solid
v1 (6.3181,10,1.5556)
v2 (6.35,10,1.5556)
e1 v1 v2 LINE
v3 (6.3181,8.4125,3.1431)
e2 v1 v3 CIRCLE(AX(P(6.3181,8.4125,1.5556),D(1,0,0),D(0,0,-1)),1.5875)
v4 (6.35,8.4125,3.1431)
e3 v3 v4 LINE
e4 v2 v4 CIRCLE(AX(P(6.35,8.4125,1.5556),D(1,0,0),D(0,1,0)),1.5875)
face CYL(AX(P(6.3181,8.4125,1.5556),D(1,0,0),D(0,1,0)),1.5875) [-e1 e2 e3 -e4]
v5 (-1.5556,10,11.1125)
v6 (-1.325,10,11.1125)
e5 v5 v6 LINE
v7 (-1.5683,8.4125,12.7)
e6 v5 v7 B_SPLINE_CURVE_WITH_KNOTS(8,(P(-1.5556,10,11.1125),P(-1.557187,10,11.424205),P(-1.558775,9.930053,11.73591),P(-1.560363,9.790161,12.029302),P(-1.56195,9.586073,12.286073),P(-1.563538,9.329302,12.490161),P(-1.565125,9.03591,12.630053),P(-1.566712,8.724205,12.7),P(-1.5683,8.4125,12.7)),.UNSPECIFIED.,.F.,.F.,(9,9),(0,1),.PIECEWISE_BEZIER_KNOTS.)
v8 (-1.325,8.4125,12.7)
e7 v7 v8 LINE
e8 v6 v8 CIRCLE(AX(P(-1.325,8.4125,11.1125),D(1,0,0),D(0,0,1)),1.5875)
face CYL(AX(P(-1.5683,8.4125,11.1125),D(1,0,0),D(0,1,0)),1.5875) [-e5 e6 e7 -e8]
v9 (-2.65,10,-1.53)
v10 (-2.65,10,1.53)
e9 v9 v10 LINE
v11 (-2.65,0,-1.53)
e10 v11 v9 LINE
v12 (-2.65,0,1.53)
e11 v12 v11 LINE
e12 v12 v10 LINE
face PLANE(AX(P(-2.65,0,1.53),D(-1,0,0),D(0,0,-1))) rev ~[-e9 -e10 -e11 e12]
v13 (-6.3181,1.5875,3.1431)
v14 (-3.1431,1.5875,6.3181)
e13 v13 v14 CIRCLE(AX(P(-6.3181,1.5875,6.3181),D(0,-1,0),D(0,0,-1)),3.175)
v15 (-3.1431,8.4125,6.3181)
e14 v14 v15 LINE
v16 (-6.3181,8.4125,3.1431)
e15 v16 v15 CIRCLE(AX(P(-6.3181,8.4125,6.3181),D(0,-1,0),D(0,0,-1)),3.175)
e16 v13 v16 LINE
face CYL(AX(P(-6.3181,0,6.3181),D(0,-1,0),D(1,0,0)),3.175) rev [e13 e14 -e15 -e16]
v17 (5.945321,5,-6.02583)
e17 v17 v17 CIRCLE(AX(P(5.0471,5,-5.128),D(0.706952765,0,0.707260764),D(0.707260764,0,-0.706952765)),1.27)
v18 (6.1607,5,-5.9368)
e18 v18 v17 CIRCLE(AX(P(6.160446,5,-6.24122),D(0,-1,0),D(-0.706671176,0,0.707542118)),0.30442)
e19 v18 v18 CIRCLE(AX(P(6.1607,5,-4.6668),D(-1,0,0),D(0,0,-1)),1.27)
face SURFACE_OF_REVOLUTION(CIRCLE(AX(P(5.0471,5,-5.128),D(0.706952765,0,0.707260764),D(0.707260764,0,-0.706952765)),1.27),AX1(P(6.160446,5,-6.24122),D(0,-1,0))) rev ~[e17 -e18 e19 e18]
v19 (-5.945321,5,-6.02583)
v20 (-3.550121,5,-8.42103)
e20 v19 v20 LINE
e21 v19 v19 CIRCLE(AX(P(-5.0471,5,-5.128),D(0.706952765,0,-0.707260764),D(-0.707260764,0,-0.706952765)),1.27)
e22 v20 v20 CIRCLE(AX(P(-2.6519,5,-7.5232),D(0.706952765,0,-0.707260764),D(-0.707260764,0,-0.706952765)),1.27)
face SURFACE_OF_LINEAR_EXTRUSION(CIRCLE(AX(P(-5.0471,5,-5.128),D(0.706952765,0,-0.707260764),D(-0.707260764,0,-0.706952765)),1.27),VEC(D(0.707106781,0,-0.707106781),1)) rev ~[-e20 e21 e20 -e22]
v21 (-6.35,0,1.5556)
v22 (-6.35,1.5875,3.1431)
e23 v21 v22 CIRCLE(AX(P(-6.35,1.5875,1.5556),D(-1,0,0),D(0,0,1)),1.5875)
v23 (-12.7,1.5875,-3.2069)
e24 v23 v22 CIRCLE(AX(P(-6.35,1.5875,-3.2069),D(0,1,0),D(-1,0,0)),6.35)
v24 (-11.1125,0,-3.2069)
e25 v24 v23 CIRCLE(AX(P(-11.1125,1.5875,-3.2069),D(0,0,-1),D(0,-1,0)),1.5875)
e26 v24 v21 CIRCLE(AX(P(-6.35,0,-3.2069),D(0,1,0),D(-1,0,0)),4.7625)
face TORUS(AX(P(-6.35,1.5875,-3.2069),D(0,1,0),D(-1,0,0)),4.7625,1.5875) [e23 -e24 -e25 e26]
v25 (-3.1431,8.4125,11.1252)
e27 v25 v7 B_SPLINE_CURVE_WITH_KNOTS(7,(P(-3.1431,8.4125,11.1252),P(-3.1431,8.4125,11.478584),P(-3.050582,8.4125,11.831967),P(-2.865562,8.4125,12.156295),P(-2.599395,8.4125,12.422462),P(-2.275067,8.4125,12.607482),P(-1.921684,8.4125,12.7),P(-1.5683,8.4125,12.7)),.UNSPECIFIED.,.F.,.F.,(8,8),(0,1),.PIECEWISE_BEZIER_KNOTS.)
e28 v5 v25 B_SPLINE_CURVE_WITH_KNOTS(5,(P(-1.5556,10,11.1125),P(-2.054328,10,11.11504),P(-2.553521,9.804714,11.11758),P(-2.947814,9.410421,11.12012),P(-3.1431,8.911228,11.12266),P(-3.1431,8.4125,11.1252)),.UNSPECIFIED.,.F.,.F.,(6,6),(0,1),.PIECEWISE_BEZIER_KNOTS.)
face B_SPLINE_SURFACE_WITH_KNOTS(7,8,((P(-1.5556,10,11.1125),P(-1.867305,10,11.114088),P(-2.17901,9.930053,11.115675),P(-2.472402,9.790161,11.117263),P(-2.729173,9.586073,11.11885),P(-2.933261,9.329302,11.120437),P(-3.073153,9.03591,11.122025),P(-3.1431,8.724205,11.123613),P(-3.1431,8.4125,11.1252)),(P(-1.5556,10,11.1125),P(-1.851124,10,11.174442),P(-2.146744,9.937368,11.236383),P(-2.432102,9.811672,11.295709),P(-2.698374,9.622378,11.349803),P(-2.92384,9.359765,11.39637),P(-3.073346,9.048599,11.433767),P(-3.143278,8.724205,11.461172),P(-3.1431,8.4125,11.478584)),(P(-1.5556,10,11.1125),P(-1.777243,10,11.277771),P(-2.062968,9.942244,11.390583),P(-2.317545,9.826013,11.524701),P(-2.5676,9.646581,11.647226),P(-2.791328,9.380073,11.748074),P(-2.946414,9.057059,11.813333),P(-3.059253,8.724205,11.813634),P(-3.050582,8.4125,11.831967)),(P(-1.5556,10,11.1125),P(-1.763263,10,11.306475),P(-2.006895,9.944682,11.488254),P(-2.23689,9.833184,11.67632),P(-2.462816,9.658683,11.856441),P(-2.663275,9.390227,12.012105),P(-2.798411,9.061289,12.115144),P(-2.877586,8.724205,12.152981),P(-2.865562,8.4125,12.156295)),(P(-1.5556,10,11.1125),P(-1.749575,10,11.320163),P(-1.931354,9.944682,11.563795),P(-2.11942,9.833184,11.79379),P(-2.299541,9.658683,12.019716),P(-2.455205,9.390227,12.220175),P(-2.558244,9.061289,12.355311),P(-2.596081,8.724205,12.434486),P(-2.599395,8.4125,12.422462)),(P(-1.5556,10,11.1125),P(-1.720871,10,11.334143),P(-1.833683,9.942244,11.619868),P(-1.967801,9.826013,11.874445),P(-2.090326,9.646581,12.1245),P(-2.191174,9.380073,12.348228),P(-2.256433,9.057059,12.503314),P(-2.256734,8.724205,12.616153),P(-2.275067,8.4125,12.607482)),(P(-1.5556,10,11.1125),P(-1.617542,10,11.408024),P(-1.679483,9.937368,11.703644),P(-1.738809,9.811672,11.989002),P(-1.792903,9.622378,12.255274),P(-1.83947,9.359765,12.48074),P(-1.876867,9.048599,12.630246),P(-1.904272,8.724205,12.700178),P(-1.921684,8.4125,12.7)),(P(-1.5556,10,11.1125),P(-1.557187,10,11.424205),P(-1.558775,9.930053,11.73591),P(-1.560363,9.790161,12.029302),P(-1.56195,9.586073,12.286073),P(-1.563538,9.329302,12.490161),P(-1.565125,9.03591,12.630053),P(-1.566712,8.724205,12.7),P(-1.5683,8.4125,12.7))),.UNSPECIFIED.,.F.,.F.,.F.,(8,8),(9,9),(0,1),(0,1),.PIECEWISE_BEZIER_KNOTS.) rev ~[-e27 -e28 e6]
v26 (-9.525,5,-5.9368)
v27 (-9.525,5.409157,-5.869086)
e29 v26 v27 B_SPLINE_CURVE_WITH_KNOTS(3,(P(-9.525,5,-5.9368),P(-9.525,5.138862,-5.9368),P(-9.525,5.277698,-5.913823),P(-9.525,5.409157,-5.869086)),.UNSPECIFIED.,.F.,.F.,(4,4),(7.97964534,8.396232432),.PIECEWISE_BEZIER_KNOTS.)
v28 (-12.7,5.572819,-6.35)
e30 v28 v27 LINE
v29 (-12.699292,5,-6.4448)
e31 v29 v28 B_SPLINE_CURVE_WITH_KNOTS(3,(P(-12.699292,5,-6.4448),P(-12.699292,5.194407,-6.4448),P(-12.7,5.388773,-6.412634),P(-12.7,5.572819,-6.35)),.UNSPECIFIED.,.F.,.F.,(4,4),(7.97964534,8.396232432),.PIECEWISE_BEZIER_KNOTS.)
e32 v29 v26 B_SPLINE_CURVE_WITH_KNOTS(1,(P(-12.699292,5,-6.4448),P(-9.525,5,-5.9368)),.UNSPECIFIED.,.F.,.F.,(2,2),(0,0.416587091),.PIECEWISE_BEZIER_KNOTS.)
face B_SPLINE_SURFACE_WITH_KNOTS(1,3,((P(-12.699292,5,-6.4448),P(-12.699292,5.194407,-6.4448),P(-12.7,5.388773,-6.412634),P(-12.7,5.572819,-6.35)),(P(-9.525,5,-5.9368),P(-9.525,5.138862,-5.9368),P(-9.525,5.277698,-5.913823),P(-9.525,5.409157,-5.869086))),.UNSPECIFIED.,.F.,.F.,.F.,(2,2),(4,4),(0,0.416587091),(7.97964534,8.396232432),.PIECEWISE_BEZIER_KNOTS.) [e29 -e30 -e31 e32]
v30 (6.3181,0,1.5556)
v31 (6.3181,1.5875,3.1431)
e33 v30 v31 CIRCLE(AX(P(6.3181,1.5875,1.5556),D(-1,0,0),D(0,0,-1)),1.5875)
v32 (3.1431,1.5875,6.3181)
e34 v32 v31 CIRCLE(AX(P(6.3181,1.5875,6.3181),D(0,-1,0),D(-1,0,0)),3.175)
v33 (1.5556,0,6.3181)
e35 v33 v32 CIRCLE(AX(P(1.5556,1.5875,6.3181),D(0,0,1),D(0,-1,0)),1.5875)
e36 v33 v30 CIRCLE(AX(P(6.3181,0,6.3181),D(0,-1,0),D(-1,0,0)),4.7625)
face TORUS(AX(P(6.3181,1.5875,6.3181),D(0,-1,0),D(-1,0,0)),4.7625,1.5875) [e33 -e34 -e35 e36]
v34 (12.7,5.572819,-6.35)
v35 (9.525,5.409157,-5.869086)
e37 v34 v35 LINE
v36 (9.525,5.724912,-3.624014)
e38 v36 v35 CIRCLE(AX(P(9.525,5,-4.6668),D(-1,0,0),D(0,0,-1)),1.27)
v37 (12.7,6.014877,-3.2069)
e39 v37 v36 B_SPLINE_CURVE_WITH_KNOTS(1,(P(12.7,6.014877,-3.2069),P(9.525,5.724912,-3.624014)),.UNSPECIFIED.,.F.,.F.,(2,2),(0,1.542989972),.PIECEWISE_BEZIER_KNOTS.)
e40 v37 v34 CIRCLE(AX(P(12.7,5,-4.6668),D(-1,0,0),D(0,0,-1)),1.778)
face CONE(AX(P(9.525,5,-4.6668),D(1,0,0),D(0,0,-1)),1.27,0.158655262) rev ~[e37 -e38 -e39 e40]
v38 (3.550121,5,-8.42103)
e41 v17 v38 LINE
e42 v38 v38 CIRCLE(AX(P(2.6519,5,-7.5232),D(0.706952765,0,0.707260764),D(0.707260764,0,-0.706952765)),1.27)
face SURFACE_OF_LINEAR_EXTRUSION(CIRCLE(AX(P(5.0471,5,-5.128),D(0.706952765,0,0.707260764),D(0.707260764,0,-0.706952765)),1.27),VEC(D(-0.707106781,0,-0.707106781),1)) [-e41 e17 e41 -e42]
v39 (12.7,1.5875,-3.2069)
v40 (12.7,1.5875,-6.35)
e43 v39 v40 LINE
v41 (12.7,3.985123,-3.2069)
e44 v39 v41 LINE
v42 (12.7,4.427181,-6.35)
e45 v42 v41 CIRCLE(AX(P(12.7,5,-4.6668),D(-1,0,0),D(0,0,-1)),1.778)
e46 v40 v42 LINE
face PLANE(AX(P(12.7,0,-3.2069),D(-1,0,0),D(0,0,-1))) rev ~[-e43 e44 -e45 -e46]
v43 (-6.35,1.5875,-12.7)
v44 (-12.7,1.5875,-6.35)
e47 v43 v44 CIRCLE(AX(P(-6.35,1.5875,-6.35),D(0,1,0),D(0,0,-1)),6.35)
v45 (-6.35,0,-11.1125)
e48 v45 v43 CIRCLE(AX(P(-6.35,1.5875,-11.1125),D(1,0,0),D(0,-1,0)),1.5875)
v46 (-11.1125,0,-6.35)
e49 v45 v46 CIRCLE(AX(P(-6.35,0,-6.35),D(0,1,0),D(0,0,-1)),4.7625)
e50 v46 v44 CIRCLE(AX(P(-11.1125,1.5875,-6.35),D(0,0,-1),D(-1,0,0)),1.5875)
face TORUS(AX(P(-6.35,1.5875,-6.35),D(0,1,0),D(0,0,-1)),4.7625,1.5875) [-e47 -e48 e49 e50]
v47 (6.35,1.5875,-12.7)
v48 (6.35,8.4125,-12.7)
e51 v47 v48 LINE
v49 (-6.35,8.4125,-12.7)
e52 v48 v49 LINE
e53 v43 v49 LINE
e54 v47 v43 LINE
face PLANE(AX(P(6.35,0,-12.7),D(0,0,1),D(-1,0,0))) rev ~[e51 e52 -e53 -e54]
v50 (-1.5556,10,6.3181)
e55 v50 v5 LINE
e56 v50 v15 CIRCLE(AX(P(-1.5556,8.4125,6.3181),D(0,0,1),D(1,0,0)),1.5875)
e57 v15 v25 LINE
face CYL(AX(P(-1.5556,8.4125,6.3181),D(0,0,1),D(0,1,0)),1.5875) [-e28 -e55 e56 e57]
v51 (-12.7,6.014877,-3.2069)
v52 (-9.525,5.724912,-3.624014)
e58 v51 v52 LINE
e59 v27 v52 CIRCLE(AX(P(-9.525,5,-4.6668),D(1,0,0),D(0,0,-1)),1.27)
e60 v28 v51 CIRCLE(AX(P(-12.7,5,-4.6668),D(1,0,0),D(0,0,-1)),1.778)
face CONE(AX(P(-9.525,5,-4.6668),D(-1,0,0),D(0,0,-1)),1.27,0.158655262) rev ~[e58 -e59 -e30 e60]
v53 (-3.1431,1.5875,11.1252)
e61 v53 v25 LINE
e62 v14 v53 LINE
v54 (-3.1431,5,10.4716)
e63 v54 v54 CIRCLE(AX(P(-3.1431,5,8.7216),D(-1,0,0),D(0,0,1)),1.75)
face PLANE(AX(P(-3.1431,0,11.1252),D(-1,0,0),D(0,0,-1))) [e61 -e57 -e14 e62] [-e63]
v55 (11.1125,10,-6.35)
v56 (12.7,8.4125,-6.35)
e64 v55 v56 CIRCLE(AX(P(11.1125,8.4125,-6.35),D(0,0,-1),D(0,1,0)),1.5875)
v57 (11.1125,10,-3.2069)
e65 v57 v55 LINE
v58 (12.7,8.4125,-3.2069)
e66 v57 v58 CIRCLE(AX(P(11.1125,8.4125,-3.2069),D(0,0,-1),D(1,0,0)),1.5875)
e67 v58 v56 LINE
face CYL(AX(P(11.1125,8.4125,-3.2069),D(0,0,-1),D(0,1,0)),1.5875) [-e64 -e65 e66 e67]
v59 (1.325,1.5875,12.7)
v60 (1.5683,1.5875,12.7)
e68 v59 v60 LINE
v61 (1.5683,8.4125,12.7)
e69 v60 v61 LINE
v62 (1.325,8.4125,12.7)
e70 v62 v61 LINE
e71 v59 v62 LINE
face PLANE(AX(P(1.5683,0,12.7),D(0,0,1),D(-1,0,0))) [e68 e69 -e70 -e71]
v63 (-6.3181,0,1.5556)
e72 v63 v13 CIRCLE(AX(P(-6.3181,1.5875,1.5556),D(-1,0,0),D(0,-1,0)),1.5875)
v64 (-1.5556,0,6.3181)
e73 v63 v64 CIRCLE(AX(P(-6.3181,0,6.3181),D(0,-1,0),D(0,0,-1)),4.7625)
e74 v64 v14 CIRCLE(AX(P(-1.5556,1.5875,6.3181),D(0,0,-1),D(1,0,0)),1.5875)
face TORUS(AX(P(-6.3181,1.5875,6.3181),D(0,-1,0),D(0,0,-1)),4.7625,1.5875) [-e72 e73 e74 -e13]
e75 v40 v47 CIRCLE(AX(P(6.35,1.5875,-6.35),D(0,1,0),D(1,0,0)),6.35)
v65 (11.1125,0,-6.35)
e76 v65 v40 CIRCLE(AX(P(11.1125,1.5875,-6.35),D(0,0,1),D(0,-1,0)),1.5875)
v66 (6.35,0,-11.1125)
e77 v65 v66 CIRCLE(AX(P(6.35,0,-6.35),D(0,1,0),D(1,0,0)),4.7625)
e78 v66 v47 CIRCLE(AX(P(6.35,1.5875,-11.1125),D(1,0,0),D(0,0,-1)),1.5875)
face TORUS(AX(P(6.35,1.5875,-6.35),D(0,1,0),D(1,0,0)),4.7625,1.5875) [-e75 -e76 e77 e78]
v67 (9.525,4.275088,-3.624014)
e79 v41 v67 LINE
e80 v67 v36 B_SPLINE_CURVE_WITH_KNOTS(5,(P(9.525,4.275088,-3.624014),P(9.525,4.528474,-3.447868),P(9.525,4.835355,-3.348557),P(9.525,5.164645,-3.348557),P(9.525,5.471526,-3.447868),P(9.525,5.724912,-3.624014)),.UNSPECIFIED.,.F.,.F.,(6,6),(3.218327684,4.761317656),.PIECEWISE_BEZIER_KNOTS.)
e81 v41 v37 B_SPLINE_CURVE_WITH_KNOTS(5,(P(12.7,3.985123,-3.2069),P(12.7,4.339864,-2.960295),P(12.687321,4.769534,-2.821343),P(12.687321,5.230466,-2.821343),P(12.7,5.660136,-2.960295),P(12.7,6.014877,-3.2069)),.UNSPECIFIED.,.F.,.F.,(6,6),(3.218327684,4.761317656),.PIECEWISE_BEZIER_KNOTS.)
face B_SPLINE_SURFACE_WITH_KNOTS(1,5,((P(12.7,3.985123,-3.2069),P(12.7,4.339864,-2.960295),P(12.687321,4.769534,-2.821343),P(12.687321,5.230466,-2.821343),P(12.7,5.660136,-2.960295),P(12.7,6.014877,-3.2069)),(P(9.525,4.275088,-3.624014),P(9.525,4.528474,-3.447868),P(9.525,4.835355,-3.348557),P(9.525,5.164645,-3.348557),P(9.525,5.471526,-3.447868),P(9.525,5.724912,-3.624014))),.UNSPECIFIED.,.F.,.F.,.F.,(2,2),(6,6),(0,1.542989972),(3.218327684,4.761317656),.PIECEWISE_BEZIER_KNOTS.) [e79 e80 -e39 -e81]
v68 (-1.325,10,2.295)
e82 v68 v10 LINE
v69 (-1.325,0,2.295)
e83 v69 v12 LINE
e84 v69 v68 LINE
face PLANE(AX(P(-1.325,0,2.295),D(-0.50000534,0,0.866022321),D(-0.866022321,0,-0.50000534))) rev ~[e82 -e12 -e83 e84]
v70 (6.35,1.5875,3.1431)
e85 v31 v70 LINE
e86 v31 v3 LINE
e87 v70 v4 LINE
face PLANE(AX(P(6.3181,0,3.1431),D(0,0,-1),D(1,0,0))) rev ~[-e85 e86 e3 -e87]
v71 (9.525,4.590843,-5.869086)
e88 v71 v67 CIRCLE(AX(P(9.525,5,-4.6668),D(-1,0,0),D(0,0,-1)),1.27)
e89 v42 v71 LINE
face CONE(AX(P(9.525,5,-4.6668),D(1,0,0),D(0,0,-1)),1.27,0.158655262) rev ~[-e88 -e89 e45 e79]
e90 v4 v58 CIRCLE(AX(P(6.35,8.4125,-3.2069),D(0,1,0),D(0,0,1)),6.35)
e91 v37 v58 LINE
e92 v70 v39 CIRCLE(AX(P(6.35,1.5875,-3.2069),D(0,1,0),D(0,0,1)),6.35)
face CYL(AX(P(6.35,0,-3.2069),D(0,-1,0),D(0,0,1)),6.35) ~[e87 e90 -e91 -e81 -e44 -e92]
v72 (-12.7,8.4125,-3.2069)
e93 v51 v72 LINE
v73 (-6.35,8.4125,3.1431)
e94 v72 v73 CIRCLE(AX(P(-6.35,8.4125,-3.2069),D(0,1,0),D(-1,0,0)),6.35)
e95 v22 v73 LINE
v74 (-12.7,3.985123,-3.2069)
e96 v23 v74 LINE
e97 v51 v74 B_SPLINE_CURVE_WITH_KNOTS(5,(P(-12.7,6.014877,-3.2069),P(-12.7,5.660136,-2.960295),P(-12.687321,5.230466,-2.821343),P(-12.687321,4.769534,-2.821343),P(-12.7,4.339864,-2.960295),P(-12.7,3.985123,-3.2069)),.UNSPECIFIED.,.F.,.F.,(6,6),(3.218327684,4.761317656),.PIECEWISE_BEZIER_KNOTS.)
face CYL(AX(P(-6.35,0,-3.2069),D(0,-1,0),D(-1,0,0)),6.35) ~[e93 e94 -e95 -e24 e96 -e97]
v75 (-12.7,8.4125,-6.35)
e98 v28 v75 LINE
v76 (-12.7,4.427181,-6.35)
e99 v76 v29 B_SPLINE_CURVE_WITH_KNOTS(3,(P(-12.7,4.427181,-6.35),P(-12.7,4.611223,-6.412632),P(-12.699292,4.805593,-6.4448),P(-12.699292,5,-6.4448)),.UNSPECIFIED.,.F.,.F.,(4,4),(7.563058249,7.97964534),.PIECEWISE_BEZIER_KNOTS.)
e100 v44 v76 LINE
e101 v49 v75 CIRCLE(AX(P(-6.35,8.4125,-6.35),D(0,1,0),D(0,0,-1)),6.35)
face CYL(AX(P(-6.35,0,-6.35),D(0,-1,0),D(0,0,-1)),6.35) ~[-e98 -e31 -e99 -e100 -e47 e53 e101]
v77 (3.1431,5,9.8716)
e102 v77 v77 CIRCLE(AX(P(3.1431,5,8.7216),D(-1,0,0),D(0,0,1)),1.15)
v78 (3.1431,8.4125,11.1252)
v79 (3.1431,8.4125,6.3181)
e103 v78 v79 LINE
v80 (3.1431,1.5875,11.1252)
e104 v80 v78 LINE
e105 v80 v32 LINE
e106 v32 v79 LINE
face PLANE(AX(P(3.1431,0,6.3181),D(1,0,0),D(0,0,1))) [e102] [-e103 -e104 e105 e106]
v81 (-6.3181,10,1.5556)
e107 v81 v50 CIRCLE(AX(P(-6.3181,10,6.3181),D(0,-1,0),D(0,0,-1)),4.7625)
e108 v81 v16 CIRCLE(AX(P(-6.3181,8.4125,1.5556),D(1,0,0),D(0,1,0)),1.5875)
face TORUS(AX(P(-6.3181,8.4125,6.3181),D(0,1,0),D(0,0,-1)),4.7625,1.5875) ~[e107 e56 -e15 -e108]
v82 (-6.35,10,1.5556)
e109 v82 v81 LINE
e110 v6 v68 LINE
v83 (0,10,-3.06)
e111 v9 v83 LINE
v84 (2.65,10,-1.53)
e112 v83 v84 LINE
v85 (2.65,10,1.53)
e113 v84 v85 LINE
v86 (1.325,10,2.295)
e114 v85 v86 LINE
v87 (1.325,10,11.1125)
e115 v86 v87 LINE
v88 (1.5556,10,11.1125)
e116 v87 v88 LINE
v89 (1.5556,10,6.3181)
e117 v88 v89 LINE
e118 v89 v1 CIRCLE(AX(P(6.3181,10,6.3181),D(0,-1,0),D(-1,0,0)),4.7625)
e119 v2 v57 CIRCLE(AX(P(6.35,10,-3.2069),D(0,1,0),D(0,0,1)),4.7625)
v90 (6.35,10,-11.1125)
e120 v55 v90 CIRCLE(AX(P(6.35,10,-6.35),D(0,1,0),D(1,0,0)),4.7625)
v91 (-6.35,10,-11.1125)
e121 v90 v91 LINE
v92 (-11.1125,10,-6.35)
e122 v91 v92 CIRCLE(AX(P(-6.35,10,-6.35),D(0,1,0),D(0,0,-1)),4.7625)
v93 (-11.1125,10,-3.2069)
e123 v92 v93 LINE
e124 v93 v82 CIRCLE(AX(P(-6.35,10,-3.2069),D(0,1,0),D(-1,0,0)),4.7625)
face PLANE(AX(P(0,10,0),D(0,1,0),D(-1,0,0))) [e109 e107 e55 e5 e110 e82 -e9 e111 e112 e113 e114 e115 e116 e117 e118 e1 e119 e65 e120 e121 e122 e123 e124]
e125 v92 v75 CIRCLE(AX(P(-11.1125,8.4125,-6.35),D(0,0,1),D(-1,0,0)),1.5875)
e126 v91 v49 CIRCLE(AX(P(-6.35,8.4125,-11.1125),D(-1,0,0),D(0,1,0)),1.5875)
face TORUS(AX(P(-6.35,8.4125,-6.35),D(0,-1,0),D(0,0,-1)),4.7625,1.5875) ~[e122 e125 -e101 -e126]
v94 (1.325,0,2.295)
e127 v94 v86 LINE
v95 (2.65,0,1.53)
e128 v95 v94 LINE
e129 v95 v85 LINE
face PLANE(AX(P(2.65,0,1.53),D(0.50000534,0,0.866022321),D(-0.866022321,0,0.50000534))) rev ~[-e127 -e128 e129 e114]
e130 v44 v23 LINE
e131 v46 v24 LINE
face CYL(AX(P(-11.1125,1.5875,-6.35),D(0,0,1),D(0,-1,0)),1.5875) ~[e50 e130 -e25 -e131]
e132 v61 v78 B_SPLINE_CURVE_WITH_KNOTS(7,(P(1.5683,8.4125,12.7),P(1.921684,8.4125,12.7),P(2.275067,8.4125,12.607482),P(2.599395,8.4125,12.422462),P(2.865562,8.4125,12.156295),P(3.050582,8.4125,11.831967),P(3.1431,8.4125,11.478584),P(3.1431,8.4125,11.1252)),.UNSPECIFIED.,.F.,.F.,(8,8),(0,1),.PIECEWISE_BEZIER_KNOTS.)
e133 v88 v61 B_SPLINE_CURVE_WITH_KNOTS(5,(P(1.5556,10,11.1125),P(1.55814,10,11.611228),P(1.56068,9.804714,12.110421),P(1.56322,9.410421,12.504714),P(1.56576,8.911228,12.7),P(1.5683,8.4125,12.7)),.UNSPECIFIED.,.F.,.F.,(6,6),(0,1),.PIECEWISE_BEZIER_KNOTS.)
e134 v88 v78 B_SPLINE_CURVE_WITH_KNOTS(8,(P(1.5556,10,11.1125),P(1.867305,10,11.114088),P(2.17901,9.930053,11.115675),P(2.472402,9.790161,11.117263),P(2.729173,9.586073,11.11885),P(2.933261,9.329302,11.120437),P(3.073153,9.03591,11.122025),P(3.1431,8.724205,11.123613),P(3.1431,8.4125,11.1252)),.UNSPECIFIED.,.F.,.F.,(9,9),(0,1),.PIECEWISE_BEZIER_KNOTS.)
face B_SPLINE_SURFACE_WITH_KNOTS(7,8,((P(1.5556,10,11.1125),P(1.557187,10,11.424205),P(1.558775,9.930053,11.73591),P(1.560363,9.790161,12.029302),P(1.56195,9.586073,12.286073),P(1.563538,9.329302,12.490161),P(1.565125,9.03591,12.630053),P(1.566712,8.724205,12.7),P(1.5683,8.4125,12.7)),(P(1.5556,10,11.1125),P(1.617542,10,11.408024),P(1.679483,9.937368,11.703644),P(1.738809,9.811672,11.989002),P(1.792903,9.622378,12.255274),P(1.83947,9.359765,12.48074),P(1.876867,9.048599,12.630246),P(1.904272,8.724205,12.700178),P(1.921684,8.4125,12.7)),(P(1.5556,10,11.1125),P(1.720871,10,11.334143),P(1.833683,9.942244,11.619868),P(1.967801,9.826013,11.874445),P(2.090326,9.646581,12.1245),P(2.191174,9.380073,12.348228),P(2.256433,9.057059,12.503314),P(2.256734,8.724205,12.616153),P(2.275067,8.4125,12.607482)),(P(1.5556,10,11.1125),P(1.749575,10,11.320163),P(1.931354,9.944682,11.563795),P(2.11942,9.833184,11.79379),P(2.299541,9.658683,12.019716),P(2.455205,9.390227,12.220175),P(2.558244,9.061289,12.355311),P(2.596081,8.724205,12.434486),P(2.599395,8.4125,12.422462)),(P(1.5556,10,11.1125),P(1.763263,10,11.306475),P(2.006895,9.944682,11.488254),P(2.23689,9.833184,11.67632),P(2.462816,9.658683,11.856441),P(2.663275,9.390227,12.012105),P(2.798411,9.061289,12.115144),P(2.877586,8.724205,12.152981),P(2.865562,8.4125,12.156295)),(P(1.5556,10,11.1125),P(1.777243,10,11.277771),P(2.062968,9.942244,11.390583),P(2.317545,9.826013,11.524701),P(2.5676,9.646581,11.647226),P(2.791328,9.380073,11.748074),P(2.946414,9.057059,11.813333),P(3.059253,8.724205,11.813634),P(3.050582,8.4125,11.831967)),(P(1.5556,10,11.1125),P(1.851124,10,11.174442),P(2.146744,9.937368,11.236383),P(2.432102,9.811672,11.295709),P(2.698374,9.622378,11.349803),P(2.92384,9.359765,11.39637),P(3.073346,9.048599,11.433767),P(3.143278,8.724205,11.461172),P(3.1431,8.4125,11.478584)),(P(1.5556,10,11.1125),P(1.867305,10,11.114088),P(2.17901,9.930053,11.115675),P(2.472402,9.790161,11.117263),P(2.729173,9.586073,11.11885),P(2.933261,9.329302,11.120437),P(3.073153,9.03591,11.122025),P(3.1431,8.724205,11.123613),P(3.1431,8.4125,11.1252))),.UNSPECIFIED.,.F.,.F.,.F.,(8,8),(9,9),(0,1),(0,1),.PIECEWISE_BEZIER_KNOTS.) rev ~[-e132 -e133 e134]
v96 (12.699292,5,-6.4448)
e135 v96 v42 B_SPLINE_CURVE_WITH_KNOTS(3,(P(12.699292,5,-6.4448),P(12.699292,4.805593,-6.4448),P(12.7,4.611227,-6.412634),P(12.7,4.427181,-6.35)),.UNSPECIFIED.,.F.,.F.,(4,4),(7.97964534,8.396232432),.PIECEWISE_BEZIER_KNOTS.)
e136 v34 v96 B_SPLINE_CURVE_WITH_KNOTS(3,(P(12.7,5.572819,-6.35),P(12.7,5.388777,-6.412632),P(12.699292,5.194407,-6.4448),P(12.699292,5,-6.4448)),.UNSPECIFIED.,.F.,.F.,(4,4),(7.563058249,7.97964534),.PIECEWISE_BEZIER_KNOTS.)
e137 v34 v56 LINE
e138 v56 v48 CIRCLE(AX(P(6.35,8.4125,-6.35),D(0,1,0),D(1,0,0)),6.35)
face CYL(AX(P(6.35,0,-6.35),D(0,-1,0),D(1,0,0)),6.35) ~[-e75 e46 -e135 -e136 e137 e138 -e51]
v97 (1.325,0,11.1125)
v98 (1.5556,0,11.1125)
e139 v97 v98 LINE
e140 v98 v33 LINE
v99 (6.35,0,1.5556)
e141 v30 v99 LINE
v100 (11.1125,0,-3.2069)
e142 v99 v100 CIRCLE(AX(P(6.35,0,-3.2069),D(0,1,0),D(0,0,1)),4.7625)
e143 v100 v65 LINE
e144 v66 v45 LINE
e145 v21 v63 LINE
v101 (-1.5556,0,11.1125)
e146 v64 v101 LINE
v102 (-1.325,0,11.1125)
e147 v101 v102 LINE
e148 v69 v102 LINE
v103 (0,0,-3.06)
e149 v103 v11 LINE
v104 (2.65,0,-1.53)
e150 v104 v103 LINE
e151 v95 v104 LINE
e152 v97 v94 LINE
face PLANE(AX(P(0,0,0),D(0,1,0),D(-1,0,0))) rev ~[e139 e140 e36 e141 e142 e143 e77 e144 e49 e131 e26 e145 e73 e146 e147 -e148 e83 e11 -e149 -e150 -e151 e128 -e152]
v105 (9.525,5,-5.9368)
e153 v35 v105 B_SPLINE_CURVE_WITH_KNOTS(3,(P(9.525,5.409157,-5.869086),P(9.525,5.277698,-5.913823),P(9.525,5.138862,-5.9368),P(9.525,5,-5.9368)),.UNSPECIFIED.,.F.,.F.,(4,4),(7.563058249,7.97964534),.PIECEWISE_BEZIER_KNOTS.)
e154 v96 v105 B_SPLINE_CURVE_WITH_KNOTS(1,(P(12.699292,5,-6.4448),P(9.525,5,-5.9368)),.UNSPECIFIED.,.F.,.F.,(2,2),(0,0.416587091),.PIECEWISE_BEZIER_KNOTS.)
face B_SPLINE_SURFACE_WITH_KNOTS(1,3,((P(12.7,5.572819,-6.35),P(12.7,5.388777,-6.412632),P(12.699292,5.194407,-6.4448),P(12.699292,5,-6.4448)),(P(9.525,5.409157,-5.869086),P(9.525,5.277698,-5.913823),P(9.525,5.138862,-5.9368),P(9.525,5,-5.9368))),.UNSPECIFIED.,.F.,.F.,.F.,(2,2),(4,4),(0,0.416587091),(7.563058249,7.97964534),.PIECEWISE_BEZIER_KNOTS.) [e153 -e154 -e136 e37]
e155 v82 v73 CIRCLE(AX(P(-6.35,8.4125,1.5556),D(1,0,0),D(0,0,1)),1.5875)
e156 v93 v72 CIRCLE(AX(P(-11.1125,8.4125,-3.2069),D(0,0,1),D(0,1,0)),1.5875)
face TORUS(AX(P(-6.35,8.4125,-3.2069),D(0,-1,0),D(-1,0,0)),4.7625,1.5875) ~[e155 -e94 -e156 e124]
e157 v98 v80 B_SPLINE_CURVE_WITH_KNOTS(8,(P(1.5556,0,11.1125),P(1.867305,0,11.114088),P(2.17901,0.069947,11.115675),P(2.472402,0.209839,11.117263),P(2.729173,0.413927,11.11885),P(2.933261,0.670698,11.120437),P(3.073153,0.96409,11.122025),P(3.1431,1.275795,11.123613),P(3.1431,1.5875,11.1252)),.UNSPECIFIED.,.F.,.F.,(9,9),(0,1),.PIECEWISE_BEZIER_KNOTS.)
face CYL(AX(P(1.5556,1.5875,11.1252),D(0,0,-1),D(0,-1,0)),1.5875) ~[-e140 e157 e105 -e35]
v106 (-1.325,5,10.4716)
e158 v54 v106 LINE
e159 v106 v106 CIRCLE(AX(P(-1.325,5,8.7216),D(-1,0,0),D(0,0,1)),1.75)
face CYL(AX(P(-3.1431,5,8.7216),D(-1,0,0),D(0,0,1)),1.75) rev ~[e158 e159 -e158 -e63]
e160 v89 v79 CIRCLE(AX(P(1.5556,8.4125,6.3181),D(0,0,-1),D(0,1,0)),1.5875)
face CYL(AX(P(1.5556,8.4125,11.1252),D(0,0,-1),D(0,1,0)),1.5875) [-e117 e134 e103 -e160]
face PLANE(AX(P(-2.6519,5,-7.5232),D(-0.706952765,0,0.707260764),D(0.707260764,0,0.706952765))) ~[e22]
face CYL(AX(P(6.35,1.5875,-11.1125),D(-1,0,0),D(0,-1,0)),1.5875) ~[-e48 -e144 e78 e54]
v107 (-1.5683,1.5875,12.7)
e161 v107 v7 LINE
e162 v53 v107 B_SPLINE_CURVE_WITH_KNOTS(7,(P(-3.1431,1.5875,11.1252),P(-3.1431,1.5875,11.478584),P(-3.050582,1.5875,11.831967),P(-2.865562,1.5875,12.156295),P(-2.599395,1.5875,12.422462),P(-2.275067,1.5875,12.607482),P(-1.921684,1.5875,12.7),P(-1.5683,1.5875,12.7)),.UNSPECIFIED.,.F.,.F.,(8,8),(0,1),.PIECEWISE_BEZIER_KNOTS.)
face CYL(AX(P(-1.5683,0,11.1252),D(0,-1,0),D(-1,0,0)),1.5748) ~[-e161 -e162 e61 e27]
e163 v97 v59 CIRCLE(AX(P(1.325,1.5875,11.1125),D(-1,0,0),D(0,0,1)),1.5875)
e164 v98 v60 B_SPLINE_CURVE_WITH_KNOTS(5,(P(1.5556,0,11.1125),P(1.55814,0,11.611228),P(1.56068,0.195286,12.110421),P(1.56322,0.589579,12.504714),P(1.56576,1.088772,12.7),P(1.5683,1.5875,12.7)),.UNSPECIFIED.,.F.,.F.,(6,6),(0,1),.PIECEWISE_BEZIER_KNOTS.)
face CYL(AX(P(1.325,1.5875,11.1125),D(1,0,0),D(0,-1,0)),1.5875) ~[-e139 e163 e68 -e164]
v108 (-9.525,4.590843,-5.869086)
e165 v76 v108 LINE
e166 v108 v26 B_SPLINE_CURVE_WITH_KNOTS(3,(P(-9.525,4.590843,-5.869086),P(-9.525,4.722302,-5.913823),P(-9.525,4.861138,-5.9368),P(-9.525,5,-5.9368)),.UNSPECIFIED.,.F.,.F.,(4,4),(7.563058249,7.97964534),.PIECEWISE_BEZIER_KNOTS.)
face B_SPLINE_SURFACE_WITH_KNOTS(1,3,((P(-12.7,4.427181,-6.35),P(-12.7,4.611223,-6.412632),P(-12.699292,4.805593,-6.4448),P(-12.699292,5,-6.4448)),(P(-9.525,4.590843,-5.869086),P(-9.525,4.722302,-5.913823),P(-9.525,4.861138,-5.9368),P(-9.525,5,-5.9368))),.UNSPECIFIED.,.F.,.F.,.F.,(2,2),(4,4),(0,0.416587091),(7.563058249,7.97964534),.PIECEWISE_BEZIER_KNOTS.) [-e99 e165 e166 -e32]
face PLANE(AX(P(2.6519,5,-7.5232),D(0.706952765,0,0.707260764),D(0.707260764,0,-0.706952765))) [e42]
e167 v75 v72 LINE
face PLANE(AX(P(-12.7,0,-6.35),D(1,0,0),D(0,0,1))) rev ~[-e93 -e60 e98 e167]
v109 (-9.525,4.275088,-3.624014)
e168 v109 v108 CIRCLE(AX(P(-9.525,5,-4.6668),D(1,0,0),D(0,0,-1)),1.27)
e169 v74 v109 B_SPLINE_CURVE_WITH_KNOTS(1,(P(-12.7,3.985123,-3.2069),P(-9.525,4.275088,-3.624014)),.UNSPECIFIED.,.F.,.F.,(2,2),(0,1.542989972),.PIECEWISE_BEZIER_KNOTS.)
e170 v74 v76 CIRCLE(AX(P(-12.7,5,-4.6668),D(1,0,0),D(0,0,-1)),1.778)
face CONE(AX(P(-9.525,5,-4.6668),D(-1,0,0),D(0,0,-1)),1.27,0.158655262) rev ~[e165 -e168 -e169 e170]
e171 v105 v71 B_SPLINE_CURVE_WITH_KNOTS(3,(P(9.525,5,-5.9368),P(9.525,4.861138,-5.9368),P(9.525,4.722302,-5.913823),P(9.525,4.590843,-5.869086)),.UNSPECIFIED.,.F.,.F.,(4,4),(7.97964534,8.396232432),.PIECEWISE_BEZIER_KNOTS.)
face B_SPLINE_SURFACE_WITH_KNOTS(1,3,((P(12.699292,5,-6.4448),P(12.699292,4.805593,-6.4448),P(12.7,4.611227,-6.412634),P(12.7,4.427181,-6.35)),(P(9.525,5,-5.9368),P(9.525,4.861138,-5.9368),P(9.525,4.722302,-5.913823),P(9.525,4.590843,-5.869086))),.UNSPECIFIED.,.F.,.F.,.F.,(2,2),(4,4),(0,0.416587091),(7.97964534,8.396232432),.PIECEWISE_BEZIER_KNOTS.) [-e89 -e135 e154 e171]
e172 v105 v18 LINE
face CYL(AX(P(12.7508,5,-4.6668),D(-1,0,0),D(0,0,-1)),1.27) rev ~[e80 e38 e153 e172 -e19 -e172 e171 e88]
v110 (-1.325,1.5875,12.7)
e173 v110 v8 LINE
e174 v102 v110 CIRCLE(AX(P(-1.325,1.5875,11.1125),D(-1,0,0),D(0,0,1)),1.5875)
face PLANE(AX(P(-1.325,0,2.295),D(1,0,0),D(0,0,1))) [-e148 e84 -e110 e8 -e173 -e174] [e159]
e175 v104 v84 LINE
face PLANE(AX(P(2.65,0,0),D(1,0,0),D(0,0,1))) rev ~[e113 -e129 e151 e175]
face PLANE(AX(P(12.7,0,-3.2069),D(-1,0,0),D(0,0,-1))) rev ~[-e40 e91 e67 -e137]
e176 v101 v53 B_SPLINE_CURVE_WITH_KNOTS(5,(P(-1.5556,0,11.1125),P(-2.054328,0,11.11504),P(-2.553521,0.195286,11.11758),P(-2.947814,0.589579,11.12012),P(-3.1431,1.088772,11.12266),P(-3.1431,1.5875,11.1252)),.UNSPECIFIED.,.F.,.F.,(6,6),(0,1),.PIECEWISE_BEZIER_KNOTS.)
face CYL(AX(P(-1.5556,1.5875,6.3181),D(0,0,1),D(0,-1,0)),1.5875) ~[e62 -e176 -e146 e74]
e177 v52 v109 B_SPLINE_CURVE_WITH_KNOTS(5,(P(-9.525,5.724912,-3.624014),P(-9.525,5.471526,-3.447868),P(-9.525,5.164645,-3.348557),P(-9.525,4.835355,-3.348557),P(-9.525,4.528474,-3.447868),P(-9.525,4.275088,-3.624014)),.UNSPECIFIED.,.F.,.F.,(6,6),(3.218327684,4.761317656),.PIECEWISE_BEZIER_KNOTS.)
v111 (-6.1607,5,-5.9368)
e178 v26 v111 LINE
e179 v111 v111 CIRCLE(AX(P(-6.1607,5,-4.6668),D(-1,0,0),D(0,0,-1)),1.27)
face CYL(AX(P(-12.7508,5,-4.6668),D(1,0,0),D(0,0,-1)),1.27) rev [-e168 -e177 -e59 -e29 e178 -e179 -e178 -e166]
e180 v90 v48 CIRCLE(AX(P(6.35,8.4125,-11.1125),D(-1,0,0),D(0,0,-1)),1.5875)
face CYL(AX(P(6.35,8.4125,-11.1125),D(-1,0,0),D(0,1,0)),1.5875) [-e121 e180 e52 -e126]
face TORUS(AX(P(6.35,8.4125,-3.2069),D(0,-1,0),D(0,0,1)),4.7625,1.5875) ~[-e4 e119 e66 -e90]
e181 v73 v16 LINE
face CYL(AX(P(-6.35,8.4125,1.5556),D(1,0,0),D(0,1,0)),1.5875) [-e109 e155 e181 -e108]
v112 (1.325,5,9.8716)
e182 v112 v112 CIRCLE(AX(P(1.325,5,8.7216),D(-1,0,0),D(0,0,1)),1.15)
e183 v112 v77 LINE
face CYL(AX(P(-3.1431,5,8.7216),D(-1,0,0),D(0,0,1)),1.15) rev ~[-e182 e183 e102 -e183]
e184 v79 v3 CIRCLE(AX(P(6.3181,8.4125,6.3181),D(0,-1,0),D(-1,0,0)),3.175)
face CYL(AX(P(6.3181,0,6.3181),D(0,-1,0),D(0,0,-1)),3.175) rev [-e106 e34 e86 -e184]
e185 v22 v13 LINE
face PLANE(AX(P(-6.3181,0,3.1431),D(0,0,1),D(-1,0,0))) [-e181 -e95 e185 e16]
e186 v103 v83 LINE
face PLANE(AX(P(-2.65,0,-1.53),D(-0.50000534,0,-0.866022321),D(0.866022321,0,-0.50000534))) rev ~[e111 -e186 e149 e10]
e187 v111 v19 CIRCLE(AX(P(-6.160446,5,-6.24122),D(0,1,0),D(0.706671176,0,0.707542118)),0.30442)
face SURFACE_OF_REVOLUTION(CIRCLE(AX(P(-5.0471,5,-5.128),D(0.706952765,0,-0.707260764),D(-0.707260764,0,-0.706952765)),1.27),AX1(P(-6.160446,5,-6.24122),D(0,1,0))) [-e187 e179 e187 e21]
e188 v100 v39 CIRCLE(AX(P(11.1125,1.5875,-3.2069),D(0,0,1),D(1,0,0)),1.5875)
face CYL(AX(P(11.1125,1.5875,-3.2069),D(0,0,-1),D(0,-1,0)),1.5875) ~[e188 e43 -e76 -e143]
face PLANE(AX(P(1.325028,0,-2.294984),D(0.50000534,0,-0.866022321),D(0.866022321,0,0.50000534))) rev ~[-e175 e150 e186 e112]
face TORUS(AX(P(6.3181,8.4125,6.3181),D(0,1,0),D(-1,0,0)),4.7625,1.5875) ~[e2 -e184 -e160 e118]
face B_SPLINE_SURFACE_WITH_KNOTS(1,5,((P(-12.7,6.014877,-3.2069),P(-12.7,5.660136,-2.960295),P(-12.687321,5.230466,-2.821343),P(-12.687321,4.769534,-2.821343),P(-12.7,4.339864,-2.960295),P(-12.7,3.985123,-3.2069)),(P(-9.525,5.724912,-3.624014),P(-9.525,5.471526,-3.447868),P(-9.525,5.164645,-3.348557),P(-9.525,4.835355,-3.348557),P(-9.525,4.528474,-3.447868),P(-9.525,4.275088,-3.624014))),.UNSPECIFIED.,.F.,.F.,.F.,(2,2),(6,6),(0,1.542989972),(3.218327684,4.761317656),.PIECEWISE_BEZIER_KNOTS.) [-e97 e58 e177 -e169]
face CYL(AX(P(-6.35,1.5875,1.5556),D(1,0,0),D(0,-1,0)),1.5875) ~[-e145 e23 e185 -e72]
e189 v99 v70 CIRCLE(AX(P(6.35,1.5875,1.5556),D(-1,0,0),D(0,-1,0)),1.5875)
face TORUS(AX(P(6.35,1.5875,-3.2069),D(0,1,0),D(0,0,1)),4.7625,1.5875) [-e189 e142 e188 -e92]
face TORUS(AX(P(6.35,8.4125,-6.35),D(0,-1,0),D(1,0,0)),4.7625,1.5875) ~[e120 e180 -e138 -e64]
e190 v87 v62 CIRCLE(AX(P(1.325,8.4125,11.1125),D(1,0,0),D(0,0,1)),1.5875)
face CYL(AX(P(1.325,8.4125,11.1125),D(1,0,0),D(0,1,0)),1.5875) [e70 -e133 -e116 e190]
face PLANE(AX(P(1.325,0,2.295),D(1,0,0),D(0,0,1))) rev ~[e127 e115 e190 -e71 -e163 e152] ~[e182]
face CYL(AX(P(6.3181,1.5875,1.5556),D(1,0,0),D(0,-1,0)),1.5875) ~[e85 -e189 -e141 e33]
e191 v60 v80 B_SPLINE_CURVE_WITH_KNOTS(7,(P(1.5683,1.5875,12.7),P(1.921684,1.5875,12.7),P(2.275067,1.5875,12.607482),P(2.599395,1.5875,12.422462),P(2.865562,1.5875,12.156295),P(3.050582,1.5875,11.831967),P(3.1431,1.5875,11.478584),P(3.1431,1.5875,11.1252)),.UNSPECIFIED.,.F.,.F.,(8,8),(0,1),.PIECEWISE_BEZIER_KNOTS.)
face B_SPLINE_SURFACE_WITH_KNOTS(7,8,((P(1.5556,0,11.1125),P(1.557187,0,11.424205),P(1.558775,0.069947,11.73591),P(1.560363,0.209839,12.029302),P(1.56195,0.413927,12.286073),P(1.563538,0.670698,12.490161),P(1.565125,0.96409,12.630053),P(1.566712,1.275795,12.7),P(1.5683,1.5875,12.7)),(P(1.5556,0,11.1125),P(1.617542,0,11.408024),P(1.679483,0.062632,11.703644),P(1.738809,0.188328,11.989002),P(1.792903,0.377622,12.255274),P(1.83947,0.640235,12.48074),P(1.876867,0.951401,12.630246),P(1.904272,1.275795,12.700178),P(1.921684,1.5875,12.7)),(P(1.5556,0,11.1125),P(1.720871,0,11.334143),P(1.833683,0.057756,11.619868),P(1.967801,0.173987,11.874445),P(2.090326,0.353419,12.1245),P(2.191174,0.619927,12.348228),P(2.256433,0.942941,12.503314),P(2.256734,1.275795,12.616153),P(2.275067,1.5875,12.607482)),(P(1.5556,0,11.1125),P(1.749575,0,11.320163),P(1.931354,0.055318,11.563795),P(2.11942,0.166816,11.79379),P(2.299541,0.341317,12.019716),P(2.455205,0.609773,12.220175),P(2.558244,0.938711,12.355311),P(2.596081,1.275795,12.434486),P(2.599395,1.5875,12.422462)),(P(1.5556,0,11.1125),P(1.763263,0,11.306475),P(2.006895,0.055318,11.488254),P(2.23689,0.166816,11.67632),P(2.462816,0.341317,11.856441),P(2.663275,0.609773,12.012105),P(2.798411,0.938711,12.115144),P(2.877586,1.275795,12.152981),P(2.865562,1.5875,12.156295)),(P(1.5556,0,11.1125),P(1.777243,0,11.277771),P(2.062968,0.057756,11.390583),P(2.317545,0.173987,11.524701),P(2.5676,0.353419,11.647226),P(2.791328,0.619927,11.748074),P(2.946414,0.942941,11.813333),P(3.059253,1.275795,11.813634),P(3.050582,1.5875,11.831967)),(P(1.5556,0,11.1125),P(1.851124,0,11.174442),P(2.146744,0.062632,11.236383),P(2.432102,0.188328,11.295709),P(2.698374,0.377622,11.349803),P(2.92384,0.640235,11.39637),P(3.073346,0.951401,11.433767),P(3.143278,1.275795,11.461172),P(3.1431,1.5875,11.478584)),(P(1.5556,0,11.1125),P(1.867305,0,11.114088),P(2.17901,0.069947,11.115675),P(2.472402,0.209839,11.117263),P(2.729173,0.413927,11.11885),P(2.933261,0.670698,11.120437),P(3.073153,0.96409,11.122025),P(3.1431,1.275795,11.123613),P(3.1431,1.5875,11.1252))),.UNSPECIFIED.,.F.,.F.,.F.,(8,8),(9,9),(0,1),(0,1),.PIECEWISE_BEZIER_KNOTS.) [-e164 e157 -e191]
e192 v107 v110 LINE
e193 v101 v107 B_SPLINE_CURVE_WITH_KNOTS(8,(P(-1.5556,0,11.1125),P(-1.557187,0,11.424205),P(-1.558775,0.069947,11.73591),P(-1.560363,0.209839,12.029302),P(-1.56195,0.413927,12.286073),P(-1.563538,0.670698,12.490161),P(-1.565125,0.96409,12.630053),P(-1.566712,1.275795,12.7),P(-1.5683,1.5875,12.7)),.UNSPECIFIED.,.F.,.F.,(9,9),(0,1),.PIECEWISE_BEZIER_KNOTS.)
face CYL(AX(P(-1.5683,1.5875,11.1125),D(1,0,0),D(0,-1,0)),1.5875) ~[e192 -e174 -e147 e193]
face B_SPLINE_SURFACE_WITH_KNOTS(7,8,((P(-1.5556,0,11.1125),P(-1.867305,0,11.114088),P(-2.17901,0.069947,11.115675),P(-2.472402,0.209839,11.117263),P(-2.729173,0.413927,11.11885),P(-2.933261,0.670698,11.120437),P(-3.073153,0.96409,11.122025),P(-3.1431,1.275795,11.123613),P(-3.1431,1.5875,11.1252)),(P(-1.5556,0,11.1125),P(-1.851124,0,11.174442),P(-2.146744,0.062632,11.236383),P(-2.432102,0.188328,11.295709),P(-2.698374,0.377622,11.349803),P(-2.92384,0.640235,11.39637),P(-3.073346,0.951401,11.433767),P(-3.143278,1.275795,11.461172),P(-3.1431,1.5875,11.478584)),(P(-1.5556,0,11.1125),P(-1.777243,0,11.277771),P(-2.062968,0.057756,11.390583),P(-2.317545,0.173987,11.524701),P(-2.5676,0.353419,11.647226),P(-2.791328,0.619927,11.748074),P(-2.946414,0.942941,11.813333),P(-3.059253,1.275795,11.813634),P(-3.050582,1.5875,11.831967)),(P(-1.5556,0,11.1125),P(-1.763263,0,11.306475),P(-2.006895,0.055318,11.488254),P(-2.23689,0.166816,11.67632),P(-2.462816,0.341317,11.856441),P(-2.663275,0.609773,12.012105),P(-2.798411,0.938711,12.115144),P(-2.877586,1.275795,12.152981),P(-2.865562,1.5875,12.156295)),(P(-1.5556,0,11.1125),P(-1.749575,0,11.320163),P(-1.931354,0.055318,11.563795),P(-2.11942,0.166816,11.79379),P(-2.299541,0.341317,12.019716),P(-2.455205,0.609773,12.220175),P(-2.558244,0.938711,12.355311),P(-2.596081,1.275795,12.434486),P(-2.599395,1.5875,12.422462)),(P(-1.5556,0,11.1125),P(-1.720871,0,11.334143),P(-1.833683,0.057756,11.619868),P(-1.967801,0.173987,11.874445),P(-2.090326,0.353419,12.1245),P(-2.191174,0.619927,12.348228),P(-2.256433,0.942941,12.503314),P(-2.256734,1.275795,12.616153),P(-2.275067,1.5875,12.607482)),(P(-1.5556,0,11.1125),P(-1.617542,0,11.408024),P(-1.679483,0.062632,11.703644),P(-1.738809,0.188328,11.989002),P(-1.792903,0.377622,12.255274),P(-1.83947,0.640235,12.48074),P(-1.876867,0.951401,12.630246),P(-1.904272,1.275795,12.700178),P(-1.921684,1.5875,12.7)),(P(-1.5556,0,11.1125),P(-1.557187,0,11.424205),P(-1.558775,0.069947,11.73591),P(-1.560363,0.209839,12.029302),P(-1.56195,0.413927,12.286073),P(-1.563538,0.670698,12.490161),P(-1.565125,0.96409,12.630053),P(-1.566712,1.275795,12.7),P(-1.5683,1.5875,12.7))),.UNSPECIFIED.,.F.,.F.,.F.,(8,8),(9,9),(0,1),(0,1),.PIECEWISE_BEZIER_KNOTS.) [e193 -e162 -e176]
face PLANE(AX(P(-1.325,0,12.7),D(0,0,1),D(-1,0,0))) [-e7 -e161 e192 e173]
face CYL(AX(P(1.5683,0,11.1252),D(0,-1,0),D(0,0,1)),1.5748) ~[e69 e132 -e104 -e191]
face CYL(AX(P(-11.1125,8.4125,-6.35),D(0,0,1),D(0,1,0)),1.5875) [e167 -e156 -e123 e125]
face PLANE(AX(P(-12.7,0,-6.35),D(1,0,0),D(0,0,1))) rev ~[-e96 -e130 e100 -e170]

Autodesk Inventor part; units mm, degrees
ref_plane "YZ Plane" through (0, 0, 0) normal (1, 0, 0) x (0, 1, 0)
sketch "Sketch1" plane through (0, 0, 0) normal (0, 1, 0) x (-1, 0, 0)
  circle A0 centre (0, 0) radius 2.65
  line L0 (2.65, -1.53) -> (0, -3.06)
  line L1 (0, -3.06) -> (-2.65, -1.53)
  line L2 (-2.65, -1.53) -> (-2.65, 1.53)
  line L3 (-2.65, 1.53) -> (0, 3.06)
  line L4 (0, 3.06) -> (2.65, 1.53)
  line L5 (2.65, 1.53) -> (2.65, -1.53)
  line L6 (1.325, 12.7) -> (-1.325, 12.7)
  line L7 (-12.7, -3.2069) -> (-12.7, -6.35)
  line L8 (-6.35, -12.7) -> (6.35, -12.7)
  line L9 (12.7, -6.35) -> (12.7, -3.2069)
  line L10 (12.7, 12.7) -> (-12.7, -12.7) construction
  line L11 (-12.7, 12.7) -> (12.7, -12.7) construction
  arc A1 (-12.7, -6.35) -> (-6.35, -12.7) centre (-6.35, -6.35) ccw
  arc A2 (6.35, -12.7) -> (12.7, -6.35) centre (6.35, -6.35) ccw
  line L12 (1.325, 2.295) -> (1.325, 12.7)
  line L13 (-1.325, 2.295) -> (-1.325, 12.7)
  circle A3 centre (0, 0) radius 4.445
  line L14 (6.3181, 3.1431) -> (6.35, 3.1431)
  line L15 (-6.3181, 3.1431) -> (-6.35, 3.1431)
  arc A4 (-6.35, 3.1431) -> (-12.7, -3.2069) centre (-6.35, -3.2069) ccw
  arc A5 (12.7, -3.2069) -> (6.35, 3.1431) centre (6.35, -3.2069) ccw
  line L16 (-3.1431, 6.3181) -> (-3.1431, 11.1252)
  line L17 (-1.5683, 12.7) -> (-1.325, 12.7)
  line L18 (1.325, 12.7) -> (1.5683, 12.7)
  line L19 (3.1431, 11.1252) -> (3.1431, 6.3181)
  arc A6 (-6.3181, 3.1431) -> (-3.1431, 6.3181) centre (-6.3181, 6.3181) ccw
  arc A7 (3.1431, 6.3181) -> (6.3181, 3.1431) centre (6.3181, 6.3181) ccw
  arc A8 (3.1431, 11.1252) -> (1.5683, 12.7) centre (1.5683, 11.1252) ccw
  arc A9 (-1.5683, 12.7) -> (-3.1431, 11.1252) centre (-1.5683, 11.1252) ccw
  point P0 (2.65, 0)
  point P1 (3.1431, 3.1431)
  point P2 (-3.1431, 3.1431)
  point P3 (-12.7, 3.1431)
  point P4 (3.1431, 12.7)
  dimension "d0" = 5.3
  dimension "d1" = 25.4
  dimension "d2" = 25.4
  dimension "d4" = 8.89
  dimension "d5" = 6.35
  dimension "d6" = 3.175
  dimension "d7" = 1.5748
extrude "Extrusion1" add sketch "Sketch1" along normal blind 10 contours L5 L4 L12 A3 L13 L3 L2 L1 L0 | L12 L18 A8 L19 A7 L14 A5 L9 A2 L8 A1 L7 A4 L15 A6 L16 A9 L17 L13 A3
fillet "Fillet1" radius 1.5875 34 edges at (-10.8401, 10, 1.2832) (-6.334, 10, 3.1431) (-4.073, 10, 4.073) (-3.1431, 10, 8.7216) (-2.6818, 10, 12.2388) (-1.4466, 10, 12.7) (-10.8401, 10, -10.8401) (0, 10, -12.7) (10.8401, 10, -10.8401) (12.7, 10, -4.7785) (10.8401, 10, 1.2832) (6.334, 10, 3.1431) (4.073, 10, 4.073) (3.1431, 10, 8.7216) (2.6818, 10, 12.2388) (1.4466, 10, 12.7) (-12.7, 10, -4.7785) (-10.8401, 0, 1.2832) (-6.334, 0, 3.1431) (-4.073, 0, 4.073) (-3.1431, 0, 8.7216) (-2.6818, 0, 12.2388) (-1.4466, 0, 12.7) (-10.8401, 0, -10.8401) (0, 0, -12.7) (10.8401, 0, -10.8401) (12.7, 0, -4.7785) (10.8401, 0, 1.2832) (6.334, 0, 3.1431) (4.073, 0, 4.073) (3.1431, 0, 8.7216) (2.6818, 0, 12.2388) (1.4466, 0, 12.7) (-12.7, 0, -4.7785)
sketch "Sketch2" plane through (-3.1431, 1.5875, 11.1252) normal (-1, 0, 0) x (0, 0, 1)
  line L0 (-4.8071, 0) -> (-4.8071, 6.825) construction
  line L1 (-4.8071, 3.4125) -> (0, 3.4125) construction
  line L2 (0, 0) -> (0, 6.825) construction
  line L3 (-4.8071, 0) -> (0, 0) construction
  line L4 (-2.4036, 0) -> (-2.4036, 6.825) construction
  line L5 (-4.8071, 6.825) -> (0, 6.825) construction
  circle A0 centre (-2.4036, 3.4125) radius 1.15
  circle A1 centre (-2.4036, 3.4125) radius 1.75
  point P0 (-11.1252, -1.5875)
  dimension "d11" = 2.3
  dimension "d12" = 3.5
extrude "Extrusion2" cut sketch "Sketch2" against normal up to surface (1.8181 mm away) contours A0 | A1
extrude "Extrusion3" cut sketch "Sketch2" against normal up to surface (6.2862 mm away) contours A0
ref_plane "Work Plane1" through (0, 5, 0) normal (0, 1, 0) x (1, 0, 0)
sketch "Sketch3" plane through (0, 5, 0) normal (0, 1, 0) x (1, 0, 0)
  line L0 (-12.7508, 4.6668) -> (-6.1607, 4.6668)
  line L1 (-5.0471, 5.128) -> (-2.6519, 7.5232)
  line L2 (0, 13.8984) -> (0, -13.9494) construction
  line L3 (12.7508, 4.6668) -> (6.1607, 4.6668)
  line L4 (5.0471, 5.128) -> (2.6519, 7.5232)
  arc A0 (5.0471, 5.128) -> (6.1607, 4.6668) centre (6.1607, 6.2416) ccw
  arc A1 (-6.1607, 4.6668) -> (-5.0471, 5.128) centre (-6.1607, 6.2416) ccw
  point P0 (0, 0)
  point P1 (-5.5084, 4.6668)
  point P2 (5.5084, 4.6668)
  dimension "d17" = 135
  dimension "d18" = 1.5748
sketch "Sketch4" plane through (12.7, 1.5875, -6.35) normal (1, 0, 0) x (0, 0, -1)
  circle A0 centre (-1.6832, 3.4125) radius 1.27
  line L0 (7.5484, 3.4125) -> (-20.2994, 3.4125) construction
  point P0 (-6.35, -1.5875)
  dimension "d19" = 2.54
sweep "Sweep1" cut profiles "Sketch4" path "Sketch3" path curves L3 A0 L4
ref_plane "Work Plane2" through (0, 1.5875, -6.35) normal (1, 0, 0) x (0, 0, -1)
chamfer "Chamfer1" distance 0.508 distance2 3.175 1 edges at (12.7, 5, -3.3968) measured on face at (12.7, 2.3048, -4.7923)
mirror "Mirror1" about plane through (0, 1.5875, -6.35) normal (1, 0, 0) of "Sweep1"
chamfer "Chamfer2" distance 0.508 distance2 3.175 1 edges at (-12.7, 5, -3.3968) measured on face at (-12.7, 7.6952, -4.7923)
properties part number "Bad Intake Bracket v2"
